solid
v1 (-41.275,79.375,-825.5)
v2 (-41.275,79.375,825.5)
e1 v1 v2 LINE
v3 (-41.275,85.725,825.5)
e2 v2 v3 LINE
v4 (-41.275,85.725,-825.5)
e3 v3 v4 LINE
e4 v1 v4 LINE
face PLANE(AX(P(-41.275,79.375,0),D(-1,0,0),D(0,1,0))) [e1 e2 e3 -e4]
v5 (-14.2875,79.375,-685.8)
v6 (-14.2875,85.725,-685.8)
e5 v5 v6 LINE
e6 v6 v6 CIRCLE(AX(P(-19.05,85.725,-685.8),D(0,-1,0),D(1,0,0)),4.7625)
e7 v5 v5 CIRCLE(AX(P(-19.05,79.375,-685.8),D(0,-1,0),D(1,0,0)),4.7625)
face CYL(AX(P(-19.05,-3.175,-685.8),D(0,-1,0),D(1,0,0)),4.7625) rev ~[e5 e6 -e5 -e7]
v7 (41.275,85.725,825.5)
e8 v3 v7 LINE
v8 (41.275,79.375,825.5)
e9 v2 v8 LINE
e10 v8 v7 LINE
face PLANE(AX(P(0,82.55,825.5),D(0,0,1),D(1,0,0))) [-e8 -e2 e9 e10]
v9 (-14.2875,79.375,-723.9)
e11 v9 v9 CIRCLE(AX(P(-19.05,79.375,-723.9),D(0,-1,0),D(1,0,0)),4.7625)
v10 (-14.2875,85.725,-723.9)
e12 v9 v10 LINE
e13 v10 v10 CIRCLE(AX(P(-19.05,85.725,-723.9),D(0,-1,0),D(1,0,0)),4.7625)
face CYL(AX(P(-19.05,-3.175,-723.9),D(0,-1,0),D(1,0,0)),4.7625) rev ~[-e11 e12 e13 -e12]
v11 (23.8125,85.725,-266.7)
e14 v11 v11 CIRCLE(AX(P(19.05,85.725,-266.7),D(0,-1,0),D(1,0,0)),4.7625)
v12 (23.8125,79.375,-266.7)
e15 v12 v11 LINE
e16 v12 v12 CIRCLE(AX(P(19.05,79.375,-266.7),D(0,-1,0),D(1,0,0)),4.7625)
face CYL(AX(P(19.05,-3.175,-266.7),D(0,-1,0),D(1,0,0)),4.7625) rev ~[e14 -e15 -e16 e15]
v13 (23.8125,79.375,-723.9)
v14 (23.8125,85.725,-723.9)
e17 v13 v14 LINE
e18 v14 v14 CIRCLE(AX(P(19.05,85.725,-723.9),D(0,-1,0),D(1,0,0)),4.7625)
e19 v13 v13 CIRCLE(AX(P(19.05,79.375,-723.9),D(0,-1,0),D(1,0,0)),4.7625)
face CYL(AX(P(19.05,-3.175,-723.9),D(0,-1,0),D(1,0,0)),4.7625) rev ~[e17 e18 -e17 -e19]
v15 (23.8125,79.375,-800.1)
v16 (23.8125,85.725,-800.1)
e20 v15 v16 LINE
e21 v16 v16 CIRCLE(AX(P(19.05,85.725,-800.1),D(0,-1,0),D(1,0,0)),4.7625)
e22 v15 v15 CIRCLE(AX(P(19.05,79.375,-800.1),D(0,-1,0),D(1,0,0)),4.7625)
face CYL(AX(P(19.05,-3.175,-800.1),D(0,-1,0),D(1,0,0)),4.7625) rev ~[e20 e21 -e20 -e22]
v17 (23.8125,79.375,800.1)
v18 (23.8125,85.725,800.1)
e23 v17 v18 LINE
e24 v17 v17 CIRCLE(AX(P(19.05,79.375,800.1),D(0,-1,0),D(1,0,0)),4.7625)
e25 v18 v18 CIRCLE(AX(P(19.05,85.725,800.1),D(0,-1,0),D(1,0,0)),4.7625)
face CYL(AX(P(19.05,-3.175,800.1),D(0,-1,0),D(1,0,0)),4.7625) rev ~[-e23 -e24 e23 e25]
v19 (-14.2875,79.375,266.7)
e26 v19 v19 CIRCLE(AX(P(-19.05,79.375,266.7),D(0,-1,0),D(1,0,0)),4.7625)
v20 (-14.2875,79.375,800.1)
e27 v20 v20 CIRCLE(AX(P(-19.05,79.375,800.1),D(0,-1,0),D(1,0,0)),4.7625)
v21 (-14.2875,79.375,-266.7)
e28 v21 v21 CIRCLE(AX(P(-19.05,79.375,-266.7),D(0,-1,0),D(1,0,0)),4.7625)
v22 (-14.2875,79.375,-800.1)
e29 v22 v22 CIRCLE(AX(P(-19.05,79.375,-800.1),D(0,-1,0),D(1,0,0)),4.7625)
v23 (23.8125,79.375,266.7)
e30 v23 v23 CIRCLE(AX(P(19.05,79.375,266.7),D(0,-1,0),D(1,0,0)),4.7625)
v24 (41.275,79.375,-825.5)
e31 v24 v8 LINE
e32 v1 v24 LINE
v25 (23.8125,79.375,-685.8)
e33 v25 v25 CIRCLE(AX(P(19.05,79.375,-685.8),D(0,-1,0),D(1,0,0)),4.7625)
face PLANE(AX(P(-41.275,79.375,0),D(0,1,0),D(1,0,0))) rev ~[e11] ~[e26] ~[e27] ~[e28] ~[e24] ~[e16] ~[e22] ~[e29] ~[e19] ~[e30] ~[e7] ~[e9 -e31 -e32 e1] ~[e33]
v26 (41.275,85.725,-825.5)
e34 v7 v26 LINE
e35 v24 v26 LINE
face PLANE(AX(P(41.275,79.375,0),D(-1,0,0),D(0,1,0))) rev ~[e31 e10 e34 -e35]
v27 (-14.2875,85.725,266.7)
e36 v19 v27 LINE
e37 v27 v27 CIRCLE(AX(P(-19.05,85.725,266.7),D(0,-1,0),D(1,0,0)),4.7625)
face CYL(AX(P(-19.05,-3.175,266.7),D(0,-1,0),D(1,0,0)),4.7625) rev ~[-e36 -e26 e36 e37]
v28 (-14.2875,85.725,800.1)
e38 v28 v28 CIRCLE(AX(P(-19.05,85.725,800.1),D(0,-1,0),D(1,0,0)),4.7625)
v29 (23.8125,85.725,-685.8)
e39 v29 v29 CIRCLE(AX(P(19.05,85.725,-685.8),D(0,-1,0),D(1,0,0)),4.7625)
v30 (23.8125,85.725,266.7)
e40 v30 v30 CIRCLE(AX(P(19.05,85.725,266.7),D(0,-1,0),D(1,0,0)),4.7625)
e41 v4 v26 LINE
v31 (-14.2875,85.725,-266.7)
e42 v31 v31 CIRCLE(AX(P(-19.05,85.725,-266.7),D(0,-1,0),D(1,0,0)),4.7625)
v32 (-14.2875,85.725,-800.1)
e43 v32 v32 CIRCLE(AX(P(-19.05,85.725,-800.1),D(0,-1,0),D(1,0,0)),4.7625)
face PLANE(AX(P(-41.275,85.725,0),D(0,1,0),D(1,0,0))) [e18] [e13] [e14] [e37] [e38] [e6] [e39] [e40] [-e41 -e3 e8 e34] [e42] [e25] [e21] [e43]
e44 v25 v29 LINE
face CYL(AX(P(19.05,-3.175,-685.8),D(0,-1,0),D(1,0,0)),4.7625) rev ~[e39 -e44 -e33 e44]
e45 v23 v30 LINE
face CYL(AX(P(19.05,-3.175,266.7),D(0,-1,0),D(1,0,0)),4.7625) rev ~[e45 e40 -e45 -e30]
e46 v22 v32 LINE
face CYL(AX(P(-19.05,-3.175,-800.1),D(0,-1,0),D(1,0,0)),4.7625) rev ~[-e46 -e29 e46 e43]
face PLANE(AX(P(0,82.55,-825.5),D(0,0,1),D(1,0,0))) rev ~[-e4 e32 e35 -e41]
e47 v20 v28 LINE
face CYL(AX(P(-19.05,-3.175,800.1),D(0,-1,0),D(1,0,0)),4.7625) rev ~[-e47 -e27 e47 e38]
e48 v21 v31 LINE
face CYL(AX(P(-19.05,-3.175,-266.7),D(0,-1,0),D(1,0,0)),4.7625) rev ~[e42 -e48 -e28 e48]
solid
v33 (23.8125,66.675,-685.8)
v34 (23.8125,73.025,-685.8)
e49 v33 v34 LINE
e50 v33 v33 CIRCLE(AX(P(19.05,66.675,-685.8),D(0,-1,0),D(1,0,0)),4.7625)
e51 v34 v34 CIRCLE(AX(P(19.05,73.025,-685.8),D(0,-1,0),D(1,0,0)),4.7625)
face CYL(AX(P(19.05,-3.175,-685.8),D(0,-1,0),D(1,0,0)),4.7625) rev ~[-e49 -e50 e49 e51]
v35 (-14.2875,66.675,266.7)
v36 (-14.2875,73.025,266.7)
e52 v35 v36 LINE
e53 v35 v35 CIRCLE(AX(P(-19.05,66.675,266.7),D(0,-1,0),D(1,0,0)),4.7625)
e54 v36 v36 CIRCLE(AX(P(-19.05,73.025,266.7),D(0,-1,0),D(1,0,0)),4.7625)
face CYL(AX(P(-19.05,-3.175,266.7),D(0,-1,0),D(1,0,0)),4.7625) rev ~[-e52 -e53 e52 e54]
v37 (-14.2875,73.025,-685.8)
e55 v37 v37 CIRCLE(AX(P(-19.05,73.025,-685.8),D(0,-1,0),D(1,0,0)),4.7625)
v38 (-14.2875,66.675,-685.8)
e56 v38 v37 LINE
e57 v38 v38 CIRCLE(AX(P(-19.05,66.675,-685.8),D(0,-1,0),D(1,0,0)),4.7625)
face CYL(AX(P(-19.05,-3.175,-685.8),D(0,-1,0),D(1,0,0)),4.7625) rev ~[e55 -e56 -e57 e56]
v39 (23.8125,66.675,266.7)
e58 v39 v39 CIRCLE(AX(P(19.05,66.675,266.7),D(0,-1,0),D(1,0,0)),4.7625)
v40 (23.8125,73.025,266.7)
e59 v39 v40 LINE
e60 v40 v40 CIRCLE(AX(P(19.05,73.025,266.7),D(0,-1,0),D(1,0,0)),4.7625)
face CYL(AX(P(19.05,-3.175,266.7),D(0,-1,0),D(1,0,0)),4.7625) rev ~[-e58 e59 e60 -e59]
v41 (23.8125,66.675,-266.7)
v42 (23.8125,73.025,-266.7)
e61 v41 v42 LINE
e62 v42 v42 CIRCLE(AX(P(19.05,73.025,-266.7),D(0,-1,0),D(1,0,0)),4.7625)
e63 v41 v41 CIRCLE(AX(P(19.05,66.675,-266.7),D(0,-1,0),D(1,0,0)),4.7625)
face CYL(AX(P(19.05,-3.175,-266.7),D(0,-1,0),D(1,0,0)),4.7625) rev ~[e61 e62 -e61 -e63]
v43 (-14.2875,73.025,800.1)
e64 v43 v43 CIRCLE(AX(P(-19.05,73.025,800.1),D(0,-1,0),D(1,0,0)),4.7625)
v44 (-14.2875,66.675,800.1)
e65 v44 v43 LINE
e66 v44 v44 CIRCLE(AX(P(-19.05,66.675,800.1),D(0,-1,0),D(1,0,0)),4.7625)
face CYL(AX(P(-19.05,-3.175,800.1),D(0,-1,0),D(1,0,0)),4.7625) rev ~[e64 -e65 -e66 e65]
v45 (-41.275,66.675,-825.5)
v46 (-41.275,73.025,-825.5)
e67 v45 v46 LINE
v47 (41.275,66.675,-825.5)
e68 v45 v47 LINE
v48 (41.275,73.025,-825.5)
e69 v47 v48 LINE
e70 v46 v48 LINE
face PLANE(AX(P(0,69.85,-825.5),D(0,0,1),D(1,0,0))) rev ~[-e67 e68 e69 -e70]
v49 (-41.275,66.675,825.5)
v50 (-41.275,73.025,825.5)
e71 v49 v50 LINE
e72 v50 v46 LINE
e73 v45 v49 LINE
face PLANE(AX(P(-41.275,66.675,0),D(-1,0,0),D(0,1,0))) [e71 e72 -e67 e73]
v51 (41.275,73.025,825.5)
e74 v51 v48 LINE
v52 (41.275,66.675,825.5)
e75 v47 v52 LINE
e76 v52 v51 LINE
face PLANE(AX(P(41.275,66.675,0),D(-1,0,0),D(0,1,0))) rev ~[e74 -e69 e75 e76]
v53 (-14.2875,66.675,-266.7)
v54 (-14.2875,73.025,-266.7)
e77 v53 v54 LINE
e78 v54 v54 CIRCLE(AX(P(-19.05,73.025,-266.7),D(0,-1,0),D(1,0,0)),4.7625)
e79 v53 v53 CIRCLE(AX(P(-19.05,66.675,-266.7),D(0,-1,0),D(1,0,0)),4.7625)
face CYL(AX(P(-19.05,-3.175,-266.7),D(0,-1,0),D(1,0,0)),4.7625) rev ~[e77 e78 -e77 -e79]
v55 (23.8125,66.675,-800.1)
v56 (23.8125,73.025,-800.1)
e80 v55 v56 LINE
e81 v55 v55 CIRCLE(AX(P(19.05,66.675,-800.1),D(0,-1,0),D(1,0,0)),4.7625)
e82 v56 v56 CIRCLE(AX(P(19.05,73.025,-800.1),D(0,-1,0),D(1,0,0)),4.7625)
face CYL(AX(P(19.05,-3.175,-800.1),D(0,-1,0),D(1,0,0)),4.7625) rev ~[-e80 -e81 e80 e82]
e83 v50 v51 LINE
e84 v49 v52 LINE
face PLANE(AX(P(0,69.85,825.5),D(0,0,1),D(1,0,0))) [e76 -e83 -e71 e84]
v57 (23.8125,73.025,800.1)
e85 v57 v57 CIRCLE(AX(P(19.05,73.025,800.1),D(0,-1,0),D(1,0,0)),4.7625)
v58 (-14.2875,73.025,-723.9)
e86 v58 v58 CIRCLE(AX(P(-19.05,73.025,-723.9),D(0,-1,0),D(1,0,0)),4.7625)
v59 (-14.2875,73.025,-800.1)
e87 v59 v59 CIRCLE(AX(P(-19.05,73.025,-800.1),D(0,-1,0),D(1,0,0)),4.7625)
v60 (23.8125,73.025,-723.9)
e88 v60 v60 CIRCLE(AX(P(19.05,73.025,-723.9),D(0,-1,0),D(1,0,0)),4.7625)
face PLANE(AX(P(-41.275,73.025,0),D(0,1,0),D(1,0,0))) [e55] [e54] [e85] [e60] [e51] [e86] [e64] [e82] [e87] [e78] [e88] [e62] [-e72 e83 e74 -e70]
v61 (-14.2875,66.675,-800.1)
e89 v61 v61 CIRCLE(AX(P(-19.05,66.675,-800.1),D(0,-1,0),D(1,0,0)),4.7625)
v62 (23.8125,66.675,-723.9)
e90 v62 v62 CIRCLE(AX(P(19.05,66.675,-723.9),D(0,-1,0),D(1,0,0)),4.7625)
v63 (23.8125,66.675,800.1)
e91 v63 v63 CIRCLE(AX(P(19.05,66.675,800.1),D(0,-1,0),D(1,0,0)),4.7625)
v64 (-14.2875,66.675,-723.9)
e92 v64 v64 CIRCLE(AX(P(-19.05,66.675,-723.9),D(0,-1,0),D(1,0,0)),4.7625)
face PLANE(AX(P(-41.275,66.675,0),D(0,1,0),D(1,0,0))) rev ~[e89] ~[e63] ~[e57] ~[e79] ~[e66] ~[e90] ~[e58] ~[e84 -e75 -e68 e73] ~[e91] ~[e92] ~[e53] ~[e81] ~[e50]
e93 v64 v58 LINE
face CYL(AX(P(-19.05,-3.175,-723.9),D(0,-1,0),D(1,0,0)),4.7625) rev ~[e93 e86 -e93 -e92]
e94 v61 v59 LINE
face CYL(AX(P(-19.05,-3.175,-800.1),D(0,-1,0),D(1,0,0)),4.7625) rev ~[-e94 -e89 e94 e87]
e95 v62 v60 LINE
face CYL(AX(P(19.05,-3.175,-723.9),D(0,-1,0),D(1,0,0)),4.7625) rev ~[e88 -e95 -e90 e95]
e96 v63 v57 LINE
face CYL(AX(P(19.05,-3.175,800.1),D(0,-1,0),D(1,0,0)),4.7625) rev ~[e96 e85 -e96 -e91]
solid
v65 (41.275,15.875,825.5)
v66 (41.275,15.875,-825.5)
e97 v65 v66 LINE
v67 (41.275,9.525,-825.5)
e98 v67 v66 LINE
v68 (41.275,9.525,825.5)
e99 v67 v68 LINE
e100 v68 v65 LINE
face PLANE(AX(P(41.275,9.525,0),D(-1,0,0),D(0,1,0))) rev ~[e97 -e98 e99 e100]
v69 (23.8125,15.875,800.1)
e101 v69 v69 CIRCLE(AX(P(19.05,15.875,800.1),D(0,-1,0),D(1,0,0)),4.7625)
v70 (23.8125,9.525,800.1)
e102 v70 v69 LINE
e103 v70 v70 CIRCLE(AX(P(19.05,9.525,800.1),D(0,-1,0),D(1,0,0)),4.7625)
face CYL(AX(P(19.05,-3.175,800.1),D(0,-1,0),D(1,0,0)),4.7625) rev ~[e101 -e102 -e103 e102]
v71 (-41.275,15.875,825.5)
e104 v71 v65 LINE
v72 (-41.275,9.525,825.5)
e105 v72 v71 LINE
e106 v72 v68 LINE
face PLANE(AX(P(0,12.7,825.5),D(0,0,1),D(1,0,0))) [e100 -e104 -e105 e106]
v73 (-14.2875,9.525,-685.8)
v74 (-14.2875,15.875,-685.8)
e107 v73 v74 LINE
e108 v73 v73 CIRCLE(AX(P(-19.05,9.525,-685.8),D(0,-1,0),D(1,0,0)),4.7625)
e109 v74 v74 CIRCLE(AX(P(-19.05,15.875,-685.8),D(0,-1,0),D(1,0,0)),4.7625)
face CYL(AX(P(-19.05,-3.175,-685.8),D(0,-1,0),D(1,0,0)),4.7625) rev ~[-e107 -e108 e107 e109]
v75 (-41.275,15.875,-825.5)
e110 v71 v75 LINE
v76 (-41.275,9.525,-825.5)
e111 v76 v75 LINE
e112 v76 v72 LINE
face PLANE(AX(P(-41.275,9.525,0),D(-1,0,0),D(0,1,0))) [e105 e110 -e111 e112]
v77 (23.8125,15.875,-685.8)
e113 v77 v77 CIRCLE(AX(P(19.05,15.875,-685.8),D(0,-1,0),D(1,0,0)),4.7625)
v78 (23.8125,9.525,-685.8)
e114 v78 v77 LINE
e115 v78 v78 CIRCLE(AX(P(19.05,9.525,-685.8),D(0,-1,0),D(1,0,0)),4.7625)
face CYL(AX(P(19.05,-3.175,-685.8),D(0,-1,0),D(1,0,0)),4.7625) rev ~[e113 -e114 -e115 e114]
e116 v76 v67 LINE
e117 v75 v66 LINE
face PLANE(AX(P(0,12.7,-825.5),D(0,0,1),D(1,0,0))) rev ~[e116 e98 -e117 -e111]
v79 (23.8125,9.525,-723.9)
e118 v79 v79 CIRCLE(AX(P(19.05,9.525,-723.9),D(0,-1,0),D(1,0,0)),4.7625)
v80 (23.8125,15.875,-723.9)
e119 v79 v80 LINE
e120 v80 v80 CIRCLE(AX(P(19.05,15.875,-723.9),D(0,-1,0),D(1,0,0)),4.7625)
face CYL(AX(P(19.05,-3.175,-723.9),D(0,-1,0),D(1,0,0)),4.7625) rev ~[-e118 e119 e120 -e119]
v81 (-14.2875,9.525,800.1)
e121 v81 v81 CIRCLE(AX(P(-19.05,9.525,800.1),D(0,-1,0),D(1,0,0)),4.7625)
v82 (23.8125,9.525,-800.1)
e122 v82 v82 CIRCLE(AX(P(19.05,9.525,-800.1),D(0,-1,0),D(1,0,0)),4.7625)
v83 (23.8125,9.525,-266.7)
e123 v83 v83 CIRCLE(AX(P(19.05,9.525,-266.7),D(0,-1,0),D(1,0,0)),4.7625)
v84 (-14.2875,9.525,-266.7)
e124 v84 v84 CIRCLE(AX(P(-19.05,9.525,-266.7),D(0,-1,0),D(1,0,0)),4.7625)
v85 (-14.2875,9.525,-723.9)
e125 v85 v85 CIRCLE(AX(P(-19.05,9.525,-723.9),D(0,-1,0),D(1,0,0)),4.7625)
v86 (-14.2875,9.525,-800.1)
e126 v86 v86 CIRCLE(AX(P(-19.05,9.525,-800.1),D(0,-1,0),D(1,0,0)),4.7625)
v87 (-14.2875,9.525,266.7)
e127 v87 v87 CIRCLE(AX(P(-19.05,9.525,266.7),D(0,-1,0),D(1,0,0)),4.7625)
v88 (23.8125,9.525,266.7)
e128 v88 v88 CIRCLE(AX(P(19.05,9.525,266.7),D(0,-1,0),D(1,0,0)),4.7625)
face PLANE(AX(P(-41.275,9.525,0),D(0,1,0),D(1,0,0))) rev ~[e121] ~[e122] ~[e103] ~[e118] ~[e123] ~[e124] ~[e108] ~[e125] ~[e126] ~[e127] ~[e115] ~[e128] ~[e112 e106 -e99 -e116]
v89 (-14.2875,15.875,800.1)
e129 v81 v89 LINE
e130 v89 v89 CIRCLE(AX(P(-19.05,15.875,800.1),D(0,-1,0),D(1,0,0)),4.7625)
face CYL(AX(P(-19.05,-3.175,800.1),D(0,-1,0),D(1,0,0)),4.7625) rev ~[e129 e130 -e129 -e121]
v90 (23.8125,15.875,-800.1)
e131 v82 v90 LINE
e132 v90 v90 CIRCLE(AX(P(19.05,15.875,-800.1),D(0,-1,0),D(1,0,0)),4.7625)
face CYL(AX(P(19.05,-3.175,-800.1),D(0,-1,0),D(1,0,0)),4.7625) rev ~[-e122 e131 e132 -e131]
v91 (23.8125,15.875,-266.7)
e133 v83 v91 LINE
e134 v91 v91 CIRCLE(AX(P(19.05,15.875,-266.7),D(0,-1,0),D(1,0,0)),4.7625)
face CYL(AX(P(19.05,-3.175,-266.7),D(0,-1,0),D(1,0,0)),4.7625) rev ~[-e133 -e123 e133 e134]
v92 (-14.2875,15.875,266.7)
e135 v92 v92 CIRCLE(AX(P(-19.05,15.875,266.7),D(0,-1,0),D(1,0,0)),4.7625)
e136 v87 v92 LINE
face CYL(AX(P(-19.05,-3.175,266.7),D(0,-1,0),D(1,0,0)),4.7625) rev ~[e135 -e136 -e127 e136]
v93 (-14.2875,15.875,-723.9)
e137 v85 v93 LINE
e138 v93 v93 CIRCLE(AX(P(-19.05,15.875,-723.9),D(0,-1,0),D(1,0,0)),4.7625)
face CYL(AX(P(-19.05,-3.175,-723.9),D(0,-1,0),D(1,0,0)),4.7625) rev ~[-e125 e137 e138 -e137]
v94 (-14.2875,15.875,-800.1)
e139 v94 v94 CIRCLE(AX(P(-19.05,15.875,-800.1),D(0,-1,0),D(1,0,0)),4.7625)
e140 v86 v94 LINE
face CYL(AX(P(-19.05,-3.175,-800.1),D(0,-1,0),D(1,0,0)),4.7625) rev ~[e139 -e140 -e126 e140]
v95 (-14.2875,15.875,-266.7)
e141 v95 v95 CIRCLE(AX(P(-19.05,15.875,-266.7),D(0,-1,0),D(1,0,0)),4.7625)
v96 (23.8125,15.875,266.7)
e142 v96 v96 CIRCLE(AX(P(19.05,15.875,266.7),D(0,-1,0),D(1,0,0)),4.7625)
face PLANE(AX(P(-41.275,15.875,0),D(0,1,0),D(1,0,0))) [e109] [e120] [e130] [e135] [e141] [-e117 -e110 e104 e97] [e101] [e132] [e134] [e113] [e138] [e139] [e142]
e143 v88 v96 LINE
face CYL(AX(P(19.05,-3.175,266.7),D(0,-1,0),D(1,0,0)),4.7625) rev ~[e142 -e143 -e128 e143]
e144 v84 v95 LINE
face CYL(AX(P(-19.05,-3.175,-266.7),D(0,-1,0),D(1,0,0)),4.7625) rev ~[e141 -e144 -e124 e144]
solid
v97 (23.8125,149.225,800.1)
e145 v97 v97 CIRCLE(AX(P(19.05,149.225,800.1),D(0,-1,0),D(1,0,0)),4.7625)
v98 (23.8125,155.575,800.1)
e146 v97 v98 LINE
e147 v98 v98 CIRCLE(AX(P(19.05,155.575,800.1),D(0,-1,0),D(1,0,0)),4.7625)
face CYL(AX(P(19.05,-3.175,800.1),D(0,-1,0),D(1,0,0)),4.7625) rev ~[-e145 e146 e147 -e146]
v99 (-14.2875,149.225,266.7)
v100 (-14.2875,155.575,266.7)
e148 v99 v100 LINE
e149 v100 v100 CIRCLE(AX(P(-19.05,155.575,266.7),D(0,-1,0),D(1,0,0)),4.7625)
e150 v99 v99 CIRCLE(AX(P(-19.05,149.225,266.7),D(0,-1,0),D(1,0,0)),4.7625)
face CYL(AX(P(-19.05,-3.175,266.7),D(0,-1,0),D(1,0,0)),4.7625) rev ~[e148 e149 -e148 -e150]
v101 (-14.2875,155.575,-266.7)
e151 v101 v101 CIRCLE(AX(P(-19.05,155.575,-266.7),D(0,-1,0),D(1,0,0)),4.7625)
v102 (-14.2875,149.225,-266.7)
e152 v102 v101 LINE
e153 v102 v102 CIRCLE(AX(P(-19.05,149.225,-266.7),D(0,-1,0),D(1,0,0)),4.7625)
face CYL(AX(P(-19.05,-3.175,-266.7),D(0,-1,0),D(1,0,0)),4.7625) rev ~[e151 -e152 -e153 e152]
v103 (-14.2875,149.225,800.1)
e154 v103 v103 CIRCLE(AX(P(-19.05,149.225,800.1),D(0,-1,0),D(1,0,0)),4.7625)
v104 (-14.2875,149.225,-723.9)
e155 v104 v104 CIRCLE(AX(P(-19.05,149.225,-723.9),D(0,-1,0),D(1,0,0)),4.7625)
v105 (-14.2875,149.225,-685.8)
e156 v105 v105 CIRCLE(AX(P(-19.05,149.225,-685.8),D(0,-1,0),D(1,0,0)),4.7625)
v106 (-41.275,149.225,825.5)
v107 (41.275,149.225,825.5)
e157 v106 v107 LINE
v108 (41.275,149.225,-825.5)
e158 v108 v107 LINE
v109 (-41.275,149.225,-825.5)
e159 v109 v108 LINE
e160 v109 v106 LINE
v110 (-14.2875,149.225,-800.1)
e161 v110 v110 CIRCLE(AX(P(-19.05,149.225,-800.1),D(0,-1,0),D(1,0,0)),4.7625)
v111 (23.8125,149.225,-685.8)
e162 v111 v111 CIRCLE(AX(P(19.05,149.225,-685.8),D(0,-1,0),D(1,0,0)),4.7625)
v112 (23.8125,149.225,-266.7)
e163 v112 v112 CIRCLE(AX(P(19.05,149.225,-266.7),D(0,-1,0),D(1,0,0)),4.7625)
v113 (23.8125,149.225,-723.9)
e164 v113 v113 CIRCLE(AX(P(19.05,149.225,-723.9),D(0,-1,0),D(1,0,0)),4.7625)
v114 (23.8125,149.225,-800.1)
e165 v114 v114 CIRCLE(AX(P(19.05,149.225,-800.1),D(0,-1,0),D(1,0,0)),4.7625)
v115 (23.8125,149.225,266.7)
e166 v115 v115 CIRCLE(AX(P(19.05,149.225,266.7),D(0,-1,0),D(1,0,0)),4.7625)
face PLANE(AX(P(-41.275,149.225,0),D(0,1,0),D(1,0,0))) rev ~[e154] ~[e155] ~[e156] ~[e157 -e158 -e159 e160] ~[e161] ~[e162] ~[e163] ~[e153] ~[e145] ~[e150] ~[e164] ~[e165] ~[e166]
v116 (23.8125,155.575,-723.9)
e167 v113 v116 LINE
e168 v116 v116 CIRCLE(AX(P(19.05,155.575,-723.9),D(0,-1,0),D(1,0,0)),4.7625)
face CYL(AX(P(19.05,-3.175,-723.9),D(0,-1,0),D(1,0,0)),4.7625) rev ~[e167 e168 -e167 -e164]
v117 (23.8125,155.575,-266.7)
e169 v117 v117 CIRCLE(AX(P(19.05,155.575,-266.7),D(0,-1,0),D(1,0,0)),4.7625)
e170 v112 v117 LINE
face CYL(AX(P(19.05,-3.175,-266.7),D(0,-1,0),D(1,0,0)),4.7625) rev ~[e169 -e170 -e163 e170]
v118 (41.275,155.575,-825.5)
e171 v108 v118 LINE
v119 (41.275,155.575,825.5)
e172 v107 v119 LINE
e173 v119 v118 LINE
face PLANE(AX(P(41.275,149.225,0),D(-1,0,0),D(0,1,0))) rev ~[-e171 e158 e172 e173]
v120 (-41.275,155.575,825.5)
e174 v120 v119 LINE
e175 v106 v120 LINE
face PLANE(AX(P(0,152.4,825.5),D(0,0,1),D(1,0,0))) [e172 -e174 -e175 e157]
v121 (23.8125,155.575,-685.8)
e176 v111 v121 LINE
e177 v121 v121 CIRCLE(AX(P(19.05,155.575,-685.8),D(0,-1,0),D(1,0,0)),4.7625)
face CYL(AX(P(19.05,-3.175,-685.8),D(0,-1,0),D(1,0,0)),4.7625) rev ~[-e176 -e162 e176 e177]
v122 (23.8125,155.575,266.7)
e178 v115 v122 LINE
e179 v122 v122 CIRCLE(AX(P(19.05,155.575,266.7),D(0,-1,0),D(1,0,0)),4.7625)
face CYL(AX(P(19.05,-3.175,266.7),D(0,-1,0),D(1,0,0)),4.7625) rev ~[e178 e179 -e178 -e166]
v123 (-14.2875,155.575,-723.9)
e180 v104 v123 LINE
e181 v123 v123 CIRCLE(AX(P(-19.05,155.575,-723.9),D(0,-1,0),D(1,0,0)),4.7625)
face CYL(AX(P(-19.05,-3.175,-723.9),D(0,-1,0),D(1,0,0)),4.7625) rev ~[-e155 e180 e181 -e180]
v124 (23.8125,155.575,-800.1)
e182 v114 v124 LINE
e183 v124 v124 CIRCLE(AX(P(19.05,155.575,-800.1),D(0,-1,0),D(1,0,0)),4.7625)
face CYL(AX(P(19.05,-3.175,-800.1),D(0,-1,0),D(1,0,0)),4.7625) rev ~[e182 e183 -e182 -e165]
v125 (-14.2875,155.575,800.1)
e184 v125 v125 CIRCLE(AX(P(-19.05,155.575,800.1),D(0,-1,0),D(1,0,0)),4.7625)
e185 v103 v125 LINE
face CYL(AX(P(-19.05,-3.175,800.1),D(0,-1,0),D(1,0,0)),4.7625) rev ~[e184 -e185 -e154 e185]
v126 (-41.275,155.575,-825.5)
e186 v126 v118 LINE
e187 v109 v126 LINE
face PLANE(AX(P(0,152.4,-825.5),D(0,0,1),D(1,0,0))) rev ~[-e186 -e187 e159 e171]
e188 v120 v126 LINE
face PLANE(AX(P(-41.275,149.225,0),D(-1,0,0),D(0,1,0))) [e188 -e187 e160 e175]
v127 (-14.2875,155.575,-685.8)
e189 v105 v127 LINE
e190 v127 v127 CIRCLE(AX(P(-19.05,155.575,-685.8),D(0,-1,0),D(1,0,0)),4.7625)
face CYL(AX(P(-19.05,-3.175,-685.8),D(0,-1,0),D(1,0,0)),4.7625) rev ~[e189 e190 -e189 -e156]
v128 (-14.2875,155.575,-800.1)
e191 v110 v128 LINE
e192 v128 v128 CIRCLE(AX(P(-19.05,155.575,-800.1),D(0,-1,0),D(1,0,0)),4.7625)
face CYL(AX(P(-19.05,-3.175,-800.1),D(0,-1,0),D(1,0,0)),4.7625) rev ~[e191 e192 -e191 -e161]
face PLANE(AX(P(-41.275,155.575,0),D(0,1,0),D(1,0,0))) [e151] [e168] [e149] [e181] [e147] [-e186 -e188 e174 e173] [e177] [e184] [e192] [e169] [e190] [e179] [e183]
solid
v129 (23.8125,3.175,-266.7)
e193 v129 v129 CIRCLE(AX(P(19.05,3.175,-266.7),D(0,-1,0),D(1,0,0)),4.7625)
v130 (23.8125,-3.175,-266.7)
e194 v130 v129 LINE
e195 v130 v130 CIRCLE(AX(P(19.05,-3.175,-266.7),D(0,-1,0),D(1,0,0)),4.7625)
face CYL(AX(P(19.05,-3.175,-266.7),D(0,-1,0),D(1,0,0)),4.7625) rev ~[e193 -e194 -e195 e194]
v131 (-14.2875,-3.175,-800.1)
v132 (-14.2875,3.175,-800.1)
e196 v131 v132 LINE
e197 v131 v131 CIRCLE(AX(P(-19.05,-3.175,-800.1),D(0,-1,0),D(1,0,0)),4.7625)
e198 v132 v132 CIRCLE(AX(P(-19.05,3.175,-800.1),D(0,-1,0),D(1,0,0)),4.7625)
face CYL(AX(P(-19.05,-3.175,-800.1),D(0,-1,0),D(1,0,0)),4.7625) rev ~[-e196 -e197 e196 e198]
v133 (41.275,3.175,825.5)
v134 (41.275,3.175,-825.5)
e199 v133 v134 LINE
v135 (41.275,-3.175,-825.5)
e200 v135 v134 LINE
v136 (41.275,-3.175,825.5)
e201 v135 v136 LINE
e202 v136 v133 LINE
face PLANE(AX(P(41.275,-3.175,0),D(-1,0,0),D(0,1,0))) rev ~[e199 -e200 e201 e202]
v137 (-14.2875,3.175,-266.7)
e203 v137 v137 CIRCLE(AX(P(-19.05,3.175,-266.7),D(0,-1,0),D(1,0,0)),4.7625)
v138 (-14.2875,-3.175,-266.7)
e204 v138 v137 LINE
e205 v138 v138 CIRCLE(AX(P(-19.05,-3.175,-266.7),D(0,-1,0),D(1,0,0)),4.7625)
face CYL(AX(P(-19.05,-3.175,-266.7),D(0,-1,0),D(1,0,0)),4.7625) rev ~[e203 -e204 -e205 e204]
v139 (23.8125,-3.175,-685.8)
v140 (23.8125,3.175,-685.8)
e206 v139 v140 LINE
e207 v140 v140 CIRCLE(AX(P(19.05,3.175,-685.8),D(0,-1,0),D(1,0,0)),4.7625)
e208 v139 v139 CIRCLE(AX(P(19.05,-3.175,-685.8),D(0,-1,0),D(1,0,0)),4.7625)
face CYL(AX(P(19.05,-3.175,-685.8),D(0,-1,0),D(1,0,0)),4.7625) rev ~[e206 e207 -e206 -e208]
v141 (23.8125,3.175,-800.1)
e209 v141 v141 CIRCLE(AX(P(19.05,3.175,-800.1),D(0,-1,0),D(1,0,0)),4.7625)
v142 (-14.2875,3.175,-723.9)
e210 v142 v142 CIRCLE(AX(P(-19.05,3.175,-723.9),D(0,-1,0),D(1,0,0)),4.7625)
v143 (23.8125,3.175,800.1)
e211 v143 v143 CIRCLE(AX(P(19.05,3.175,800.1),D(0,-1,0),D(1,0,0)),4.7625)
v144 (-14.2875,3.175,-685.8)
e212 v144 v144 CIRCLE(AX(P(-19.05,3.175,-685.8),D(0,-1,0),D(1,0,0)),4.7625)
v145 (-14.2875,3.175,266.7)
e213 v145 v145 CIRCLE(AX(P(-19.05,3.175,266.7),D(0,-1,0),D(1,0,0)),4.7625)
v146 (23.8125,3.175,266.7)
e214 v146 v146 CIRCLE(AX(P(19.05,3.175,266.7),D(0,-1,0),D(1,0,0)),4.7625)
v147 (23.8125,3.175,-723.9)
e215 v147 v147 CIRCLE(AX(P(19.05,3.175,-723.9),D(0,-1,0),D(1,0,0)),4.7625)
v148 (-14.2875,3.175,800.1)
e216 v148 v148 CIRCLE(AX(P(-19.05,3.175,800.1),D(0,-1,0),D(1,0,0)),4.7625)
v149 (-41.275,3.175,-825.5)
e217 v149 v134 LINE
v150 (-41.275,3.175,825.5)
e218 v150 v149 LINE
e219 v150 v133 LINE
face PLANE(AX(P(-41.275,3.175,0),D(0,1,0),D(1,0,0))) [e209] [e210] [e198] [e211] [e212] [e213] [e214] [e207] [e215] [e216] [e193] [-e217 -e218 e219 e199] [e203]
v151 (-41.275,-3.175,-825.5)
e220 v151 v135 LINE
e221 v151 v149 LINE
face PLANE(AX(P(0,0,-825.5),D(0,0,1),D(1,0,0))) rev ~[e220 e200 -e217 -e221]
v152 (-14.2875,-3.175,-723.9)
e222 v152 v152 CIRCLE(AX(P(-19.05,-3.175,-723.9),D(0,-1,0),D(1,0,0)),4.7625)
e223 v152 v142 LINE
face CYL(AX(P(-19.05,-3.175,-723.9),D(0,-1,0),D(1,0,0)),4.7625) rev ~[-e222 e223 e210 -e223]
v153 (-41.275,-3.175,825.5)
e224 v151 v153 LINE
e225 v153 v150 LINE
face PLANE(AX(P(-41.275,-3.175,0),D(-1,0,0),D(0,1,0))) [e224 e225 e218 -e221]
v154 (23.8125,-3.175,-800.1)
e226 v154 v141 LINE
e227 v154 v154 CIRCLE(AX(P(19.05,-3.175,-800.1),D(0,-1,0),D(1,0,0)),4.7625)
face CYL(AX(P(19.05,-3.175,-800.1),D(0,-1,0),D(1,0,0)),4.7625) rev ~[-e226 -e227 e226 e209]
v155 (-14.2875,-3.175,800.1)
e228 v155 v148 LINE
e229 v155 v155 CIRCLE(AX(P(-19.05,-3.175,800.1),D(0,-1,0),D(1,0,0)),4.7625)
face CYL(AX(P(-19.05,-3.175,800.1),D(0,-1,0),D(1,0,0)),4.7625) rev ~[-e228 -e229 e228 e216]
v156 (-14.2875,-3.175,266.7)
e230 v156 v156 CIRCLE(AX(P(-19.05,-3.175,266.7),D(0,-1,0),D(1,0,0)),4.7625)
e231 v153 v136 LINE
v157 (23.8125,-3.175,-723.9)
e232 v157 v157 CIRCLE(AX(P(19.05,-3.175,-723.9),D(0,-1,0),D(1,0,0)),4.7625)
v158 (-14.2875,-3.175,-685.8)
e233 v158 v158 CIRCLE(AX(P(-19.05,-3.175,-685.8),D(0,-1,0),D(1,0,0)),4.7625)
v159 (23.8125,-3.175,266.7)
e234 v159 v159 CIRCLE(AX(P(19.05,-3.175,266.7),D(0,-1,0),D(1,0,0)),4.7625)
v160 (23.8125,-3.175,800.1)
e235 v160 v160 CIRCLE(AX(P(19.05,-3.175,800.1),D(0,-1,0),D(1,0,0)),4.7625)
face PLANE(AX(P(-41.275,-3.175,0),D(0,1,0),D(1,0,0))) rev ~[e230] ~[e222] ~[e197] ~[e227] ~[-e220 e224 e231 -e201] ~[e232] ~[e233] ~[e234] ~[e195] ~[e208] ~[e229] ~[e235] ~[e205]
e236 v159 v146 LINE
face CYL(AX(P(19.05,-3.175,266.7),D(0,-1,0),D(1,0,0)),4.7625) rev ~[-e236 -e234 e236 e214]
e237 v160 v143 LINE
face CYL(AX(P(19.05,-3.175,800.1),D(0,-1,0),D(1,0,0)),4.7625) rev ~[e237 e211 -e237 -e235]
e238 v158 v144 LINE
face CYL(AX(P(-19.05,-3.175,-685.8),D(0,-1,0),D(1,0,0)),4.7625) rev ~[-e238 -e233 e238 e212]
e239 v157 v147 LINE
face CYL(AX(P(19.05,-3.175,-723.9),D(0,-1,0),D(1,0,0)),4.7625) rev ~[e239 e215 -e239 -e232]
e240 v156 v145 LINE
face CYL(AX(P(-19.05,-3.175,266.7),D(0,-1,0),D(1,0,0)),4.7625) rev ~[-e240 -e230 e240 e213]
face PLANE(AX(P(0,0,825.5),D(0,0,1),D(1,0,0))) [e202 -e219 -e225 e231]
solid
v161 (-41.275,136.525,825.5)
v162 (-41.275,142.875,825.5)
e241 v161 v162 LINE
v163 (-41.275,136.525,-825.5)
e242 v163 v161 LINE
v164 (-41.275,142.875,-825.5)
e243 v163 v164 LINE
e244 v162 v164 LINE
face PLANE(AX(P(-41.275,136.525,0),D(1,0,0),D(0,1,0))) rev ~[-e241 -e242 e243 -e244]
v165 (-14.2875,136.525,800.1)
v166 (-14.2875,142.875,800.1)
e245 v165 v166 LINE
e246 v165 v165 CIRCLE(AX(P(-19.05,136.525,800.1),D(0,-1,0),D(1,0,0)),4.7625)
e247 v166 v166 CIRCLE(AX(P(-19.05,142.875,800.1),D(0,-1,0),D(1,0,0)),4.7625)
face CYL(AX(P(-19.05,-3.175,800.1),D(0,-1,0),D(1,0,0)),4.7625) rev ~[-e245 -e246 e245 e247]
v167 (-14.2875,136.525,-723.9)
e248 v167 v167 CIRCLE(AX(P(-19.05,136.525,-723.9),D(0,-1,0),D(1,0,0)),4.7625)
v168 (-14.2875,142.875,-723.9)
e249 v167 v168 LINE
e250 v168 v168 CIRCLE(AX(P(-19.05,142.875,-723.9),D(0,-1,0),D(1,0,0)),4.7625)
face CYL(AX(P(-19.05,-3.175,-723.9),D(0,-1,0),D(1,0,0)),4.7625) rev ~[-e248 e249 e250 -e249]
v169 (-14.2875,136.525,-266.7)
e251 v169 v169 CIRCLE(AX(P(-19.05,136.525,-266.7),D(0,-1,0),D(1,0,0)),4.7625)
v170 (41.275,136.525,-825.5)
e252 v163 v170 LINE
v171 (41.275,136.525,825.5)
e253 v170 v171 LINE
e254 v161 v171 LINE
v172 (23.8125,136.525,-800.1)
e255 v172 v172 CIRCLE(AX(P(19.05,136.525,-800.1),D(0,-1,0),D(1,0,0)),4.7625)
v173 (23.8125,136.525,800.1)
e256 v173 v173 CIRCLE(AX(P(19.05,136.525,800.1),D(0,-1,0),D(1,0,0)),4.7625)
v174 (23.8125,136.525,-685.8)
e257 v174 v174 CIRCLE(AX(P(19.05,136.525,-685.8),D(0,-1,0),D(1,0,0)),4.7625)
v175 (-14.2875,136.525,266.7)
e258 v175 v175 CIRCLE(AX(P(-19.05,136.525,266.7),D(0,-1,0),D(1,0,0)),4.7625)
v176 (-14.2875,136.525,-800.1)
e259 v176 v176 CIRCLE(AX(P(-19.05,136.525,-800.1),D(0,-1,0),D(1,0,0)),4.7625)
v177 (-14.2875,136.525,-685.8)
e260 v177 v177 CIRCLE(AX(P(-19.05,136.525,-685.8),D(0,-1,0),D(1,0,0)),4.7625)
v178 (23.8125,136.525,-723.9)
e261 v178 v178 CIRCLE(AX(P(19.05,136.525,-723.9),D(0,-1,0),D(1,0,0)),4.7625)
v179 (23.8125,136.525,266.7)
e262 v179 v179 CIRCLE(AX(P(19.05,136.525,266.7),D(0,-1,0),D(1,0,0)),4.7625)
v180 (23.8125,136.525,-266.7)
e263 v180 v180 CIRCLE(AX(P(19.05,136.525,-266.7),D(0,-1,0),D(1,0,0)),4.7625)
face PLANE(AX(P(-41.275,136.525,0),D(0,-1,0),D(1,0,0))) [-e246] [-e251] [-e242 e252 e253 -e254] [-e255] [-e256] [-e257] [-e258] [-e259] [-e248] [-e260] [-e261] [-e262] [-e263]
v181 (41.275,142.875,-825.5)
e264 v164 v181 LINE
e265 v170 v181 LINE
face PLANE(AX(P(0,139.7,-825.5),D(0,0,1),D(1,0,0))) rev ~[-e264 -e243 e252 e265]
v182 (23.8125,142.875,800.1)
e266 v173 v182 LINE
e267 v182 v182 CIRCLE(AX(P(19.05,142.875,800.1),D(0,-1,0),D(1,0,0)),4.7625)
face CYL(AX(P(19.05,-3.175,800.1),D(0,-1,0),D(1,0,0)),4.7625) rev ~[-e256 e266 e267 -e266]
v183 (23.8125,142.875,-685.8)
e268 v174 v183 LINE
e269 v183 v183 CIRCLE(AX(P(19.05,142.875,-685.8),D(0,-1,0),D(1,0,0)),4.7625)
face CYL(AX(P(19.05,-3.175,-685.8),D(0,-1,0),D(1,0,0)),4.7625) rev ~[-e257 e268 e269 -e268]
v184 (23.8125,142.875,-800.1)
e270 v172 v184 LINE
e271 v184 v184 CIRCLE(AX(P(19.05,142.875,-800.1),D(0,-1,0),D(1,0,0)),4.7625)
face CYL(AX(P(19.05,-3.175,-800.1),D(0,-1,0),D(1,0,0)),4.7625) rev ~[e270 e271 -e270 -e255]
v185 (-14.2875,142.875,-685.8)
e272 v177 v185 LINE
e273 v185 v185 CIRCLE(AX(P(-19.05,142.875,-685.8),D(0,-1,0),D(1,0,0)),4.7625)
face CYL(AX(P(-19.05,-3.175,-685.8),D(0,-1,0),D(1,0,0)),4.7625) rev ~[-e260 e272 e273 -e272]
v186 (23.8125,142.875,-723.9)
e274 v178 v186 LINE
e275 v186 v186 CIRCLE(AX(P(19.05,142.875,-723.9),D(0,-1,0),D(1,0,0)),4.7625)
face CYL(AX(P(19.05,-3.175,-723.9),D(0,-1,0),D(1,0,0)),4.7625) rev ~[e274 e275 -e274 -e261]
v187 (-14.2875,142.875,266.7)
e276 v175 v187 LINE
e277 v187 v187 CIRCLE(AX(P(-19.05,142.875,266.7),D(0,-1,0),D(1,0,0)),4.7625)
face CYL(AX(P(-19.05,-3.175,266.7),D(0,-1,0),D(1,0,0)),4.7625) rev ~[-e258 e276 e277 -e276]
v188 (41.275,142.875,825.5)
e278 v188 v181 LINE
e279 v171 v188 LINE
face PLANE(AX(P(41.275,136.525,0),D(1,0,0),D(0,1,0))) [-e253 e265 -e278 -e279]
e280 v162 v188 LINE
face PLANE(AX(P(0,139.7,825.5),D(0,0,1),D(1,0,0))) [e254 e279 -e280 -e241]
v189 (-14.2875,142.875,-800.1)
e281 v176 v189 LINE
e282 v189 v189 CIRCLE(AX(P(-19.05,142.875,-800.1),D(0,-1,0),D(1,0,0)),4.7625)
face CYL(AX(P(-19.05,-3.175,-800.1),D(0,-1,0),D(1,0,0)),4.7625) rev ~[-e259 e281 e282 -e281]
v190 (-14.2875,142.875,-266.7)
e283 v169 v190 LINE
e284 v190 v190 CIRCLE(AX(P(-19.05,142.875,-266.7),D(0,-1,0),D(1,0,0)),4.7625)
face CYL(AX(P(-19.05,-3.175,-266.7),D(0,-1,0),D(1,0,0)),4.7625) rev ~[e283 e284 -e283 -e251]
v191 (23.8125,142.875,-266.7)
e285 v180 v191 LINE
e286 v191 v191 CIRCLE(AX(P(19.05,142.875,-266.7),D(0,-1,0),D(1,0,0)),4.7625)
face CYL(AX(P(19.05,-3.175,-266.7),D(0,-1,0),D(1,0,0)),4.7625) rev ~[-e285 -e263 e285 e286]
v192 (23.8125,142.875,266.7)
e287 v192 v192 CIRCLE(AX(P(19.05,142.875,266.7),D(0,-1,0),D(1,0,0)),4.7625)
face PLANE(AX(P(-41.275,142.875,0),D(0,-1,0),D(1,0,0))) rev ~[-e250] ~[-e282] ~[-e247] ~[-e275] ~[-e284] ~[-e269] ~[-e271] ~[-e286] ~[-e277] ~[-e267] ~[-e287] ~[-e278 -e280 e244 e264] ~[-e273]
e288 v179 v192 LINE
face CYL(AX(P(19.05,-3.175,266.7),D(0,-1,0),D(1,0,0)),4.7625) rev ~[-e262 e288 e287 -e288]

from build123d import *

# Parameters (mm, degrees)
F0_W     = 82.55
F0_H     = 6.35
F1_DEPTH = 825.5
F2_R     = 4.7625
F3_DEPTH = 158.751


with BuildPart() as f1:
    # F0 (on Top) → F1 (new body, symmetric)
    with BuildSketch(Plane.XY):
        Rectangle(F0_W, F0_H)
        with Locations((0, 12.7)):
            Rectangle(F0_W, F0_H)
        with Locations((0, 82.55)):
            Rectangle(F0_W, F0_H)
        with Locations((0, 69.85)):
            Rectangle(F0_W, F0_H)
        with Locations((0, 152.4)):
            Rectangle(F0_W, F0_H)
        with Locations((0, 139.7)):
            Rectangle(F0_W, F0_H)
    extrude(amount=F1_DEPTH, both=True)

    # F2 (on face) → F3 (cut, through all)
    with BuildSketch(Plane.XZ.offset(3.175)):
        with Locations((-19.05, -723.9)):
            Circle(F2_R)
        with Locations((-19.05, -685.8)):
            Circle(F2_R)
        with Locations((19.05, -685.8)):
            Circle(F2_R)
        with Locations((19.05, -723.9)):
            Circle(F2_R)
        with Locations((19.05, -800.1)):
            Circle(F2_R)
        with Locations((-19.05, -800.1)):
            Circle(F2_R)
        with Locations((19.05, -266.7)):
            Circle(F2_R)
        with Locations((-19.05, -266.7)):
            Circle(F2_R)
        with Locations((19.05, 266.7)):
            Circle(F2_R)
        with Locations((-19.05, 266.7)):
            Circle(F2_R)
        with Locations((19.05, 800.1)):
            Circle(F2_R)
        with Locations((-19.05, 800.1)):
            Circle(F2_R)
    extrude(amount=-F3_DEPTH, mode=Mode.SUBTRACT)


solid = f1.part
